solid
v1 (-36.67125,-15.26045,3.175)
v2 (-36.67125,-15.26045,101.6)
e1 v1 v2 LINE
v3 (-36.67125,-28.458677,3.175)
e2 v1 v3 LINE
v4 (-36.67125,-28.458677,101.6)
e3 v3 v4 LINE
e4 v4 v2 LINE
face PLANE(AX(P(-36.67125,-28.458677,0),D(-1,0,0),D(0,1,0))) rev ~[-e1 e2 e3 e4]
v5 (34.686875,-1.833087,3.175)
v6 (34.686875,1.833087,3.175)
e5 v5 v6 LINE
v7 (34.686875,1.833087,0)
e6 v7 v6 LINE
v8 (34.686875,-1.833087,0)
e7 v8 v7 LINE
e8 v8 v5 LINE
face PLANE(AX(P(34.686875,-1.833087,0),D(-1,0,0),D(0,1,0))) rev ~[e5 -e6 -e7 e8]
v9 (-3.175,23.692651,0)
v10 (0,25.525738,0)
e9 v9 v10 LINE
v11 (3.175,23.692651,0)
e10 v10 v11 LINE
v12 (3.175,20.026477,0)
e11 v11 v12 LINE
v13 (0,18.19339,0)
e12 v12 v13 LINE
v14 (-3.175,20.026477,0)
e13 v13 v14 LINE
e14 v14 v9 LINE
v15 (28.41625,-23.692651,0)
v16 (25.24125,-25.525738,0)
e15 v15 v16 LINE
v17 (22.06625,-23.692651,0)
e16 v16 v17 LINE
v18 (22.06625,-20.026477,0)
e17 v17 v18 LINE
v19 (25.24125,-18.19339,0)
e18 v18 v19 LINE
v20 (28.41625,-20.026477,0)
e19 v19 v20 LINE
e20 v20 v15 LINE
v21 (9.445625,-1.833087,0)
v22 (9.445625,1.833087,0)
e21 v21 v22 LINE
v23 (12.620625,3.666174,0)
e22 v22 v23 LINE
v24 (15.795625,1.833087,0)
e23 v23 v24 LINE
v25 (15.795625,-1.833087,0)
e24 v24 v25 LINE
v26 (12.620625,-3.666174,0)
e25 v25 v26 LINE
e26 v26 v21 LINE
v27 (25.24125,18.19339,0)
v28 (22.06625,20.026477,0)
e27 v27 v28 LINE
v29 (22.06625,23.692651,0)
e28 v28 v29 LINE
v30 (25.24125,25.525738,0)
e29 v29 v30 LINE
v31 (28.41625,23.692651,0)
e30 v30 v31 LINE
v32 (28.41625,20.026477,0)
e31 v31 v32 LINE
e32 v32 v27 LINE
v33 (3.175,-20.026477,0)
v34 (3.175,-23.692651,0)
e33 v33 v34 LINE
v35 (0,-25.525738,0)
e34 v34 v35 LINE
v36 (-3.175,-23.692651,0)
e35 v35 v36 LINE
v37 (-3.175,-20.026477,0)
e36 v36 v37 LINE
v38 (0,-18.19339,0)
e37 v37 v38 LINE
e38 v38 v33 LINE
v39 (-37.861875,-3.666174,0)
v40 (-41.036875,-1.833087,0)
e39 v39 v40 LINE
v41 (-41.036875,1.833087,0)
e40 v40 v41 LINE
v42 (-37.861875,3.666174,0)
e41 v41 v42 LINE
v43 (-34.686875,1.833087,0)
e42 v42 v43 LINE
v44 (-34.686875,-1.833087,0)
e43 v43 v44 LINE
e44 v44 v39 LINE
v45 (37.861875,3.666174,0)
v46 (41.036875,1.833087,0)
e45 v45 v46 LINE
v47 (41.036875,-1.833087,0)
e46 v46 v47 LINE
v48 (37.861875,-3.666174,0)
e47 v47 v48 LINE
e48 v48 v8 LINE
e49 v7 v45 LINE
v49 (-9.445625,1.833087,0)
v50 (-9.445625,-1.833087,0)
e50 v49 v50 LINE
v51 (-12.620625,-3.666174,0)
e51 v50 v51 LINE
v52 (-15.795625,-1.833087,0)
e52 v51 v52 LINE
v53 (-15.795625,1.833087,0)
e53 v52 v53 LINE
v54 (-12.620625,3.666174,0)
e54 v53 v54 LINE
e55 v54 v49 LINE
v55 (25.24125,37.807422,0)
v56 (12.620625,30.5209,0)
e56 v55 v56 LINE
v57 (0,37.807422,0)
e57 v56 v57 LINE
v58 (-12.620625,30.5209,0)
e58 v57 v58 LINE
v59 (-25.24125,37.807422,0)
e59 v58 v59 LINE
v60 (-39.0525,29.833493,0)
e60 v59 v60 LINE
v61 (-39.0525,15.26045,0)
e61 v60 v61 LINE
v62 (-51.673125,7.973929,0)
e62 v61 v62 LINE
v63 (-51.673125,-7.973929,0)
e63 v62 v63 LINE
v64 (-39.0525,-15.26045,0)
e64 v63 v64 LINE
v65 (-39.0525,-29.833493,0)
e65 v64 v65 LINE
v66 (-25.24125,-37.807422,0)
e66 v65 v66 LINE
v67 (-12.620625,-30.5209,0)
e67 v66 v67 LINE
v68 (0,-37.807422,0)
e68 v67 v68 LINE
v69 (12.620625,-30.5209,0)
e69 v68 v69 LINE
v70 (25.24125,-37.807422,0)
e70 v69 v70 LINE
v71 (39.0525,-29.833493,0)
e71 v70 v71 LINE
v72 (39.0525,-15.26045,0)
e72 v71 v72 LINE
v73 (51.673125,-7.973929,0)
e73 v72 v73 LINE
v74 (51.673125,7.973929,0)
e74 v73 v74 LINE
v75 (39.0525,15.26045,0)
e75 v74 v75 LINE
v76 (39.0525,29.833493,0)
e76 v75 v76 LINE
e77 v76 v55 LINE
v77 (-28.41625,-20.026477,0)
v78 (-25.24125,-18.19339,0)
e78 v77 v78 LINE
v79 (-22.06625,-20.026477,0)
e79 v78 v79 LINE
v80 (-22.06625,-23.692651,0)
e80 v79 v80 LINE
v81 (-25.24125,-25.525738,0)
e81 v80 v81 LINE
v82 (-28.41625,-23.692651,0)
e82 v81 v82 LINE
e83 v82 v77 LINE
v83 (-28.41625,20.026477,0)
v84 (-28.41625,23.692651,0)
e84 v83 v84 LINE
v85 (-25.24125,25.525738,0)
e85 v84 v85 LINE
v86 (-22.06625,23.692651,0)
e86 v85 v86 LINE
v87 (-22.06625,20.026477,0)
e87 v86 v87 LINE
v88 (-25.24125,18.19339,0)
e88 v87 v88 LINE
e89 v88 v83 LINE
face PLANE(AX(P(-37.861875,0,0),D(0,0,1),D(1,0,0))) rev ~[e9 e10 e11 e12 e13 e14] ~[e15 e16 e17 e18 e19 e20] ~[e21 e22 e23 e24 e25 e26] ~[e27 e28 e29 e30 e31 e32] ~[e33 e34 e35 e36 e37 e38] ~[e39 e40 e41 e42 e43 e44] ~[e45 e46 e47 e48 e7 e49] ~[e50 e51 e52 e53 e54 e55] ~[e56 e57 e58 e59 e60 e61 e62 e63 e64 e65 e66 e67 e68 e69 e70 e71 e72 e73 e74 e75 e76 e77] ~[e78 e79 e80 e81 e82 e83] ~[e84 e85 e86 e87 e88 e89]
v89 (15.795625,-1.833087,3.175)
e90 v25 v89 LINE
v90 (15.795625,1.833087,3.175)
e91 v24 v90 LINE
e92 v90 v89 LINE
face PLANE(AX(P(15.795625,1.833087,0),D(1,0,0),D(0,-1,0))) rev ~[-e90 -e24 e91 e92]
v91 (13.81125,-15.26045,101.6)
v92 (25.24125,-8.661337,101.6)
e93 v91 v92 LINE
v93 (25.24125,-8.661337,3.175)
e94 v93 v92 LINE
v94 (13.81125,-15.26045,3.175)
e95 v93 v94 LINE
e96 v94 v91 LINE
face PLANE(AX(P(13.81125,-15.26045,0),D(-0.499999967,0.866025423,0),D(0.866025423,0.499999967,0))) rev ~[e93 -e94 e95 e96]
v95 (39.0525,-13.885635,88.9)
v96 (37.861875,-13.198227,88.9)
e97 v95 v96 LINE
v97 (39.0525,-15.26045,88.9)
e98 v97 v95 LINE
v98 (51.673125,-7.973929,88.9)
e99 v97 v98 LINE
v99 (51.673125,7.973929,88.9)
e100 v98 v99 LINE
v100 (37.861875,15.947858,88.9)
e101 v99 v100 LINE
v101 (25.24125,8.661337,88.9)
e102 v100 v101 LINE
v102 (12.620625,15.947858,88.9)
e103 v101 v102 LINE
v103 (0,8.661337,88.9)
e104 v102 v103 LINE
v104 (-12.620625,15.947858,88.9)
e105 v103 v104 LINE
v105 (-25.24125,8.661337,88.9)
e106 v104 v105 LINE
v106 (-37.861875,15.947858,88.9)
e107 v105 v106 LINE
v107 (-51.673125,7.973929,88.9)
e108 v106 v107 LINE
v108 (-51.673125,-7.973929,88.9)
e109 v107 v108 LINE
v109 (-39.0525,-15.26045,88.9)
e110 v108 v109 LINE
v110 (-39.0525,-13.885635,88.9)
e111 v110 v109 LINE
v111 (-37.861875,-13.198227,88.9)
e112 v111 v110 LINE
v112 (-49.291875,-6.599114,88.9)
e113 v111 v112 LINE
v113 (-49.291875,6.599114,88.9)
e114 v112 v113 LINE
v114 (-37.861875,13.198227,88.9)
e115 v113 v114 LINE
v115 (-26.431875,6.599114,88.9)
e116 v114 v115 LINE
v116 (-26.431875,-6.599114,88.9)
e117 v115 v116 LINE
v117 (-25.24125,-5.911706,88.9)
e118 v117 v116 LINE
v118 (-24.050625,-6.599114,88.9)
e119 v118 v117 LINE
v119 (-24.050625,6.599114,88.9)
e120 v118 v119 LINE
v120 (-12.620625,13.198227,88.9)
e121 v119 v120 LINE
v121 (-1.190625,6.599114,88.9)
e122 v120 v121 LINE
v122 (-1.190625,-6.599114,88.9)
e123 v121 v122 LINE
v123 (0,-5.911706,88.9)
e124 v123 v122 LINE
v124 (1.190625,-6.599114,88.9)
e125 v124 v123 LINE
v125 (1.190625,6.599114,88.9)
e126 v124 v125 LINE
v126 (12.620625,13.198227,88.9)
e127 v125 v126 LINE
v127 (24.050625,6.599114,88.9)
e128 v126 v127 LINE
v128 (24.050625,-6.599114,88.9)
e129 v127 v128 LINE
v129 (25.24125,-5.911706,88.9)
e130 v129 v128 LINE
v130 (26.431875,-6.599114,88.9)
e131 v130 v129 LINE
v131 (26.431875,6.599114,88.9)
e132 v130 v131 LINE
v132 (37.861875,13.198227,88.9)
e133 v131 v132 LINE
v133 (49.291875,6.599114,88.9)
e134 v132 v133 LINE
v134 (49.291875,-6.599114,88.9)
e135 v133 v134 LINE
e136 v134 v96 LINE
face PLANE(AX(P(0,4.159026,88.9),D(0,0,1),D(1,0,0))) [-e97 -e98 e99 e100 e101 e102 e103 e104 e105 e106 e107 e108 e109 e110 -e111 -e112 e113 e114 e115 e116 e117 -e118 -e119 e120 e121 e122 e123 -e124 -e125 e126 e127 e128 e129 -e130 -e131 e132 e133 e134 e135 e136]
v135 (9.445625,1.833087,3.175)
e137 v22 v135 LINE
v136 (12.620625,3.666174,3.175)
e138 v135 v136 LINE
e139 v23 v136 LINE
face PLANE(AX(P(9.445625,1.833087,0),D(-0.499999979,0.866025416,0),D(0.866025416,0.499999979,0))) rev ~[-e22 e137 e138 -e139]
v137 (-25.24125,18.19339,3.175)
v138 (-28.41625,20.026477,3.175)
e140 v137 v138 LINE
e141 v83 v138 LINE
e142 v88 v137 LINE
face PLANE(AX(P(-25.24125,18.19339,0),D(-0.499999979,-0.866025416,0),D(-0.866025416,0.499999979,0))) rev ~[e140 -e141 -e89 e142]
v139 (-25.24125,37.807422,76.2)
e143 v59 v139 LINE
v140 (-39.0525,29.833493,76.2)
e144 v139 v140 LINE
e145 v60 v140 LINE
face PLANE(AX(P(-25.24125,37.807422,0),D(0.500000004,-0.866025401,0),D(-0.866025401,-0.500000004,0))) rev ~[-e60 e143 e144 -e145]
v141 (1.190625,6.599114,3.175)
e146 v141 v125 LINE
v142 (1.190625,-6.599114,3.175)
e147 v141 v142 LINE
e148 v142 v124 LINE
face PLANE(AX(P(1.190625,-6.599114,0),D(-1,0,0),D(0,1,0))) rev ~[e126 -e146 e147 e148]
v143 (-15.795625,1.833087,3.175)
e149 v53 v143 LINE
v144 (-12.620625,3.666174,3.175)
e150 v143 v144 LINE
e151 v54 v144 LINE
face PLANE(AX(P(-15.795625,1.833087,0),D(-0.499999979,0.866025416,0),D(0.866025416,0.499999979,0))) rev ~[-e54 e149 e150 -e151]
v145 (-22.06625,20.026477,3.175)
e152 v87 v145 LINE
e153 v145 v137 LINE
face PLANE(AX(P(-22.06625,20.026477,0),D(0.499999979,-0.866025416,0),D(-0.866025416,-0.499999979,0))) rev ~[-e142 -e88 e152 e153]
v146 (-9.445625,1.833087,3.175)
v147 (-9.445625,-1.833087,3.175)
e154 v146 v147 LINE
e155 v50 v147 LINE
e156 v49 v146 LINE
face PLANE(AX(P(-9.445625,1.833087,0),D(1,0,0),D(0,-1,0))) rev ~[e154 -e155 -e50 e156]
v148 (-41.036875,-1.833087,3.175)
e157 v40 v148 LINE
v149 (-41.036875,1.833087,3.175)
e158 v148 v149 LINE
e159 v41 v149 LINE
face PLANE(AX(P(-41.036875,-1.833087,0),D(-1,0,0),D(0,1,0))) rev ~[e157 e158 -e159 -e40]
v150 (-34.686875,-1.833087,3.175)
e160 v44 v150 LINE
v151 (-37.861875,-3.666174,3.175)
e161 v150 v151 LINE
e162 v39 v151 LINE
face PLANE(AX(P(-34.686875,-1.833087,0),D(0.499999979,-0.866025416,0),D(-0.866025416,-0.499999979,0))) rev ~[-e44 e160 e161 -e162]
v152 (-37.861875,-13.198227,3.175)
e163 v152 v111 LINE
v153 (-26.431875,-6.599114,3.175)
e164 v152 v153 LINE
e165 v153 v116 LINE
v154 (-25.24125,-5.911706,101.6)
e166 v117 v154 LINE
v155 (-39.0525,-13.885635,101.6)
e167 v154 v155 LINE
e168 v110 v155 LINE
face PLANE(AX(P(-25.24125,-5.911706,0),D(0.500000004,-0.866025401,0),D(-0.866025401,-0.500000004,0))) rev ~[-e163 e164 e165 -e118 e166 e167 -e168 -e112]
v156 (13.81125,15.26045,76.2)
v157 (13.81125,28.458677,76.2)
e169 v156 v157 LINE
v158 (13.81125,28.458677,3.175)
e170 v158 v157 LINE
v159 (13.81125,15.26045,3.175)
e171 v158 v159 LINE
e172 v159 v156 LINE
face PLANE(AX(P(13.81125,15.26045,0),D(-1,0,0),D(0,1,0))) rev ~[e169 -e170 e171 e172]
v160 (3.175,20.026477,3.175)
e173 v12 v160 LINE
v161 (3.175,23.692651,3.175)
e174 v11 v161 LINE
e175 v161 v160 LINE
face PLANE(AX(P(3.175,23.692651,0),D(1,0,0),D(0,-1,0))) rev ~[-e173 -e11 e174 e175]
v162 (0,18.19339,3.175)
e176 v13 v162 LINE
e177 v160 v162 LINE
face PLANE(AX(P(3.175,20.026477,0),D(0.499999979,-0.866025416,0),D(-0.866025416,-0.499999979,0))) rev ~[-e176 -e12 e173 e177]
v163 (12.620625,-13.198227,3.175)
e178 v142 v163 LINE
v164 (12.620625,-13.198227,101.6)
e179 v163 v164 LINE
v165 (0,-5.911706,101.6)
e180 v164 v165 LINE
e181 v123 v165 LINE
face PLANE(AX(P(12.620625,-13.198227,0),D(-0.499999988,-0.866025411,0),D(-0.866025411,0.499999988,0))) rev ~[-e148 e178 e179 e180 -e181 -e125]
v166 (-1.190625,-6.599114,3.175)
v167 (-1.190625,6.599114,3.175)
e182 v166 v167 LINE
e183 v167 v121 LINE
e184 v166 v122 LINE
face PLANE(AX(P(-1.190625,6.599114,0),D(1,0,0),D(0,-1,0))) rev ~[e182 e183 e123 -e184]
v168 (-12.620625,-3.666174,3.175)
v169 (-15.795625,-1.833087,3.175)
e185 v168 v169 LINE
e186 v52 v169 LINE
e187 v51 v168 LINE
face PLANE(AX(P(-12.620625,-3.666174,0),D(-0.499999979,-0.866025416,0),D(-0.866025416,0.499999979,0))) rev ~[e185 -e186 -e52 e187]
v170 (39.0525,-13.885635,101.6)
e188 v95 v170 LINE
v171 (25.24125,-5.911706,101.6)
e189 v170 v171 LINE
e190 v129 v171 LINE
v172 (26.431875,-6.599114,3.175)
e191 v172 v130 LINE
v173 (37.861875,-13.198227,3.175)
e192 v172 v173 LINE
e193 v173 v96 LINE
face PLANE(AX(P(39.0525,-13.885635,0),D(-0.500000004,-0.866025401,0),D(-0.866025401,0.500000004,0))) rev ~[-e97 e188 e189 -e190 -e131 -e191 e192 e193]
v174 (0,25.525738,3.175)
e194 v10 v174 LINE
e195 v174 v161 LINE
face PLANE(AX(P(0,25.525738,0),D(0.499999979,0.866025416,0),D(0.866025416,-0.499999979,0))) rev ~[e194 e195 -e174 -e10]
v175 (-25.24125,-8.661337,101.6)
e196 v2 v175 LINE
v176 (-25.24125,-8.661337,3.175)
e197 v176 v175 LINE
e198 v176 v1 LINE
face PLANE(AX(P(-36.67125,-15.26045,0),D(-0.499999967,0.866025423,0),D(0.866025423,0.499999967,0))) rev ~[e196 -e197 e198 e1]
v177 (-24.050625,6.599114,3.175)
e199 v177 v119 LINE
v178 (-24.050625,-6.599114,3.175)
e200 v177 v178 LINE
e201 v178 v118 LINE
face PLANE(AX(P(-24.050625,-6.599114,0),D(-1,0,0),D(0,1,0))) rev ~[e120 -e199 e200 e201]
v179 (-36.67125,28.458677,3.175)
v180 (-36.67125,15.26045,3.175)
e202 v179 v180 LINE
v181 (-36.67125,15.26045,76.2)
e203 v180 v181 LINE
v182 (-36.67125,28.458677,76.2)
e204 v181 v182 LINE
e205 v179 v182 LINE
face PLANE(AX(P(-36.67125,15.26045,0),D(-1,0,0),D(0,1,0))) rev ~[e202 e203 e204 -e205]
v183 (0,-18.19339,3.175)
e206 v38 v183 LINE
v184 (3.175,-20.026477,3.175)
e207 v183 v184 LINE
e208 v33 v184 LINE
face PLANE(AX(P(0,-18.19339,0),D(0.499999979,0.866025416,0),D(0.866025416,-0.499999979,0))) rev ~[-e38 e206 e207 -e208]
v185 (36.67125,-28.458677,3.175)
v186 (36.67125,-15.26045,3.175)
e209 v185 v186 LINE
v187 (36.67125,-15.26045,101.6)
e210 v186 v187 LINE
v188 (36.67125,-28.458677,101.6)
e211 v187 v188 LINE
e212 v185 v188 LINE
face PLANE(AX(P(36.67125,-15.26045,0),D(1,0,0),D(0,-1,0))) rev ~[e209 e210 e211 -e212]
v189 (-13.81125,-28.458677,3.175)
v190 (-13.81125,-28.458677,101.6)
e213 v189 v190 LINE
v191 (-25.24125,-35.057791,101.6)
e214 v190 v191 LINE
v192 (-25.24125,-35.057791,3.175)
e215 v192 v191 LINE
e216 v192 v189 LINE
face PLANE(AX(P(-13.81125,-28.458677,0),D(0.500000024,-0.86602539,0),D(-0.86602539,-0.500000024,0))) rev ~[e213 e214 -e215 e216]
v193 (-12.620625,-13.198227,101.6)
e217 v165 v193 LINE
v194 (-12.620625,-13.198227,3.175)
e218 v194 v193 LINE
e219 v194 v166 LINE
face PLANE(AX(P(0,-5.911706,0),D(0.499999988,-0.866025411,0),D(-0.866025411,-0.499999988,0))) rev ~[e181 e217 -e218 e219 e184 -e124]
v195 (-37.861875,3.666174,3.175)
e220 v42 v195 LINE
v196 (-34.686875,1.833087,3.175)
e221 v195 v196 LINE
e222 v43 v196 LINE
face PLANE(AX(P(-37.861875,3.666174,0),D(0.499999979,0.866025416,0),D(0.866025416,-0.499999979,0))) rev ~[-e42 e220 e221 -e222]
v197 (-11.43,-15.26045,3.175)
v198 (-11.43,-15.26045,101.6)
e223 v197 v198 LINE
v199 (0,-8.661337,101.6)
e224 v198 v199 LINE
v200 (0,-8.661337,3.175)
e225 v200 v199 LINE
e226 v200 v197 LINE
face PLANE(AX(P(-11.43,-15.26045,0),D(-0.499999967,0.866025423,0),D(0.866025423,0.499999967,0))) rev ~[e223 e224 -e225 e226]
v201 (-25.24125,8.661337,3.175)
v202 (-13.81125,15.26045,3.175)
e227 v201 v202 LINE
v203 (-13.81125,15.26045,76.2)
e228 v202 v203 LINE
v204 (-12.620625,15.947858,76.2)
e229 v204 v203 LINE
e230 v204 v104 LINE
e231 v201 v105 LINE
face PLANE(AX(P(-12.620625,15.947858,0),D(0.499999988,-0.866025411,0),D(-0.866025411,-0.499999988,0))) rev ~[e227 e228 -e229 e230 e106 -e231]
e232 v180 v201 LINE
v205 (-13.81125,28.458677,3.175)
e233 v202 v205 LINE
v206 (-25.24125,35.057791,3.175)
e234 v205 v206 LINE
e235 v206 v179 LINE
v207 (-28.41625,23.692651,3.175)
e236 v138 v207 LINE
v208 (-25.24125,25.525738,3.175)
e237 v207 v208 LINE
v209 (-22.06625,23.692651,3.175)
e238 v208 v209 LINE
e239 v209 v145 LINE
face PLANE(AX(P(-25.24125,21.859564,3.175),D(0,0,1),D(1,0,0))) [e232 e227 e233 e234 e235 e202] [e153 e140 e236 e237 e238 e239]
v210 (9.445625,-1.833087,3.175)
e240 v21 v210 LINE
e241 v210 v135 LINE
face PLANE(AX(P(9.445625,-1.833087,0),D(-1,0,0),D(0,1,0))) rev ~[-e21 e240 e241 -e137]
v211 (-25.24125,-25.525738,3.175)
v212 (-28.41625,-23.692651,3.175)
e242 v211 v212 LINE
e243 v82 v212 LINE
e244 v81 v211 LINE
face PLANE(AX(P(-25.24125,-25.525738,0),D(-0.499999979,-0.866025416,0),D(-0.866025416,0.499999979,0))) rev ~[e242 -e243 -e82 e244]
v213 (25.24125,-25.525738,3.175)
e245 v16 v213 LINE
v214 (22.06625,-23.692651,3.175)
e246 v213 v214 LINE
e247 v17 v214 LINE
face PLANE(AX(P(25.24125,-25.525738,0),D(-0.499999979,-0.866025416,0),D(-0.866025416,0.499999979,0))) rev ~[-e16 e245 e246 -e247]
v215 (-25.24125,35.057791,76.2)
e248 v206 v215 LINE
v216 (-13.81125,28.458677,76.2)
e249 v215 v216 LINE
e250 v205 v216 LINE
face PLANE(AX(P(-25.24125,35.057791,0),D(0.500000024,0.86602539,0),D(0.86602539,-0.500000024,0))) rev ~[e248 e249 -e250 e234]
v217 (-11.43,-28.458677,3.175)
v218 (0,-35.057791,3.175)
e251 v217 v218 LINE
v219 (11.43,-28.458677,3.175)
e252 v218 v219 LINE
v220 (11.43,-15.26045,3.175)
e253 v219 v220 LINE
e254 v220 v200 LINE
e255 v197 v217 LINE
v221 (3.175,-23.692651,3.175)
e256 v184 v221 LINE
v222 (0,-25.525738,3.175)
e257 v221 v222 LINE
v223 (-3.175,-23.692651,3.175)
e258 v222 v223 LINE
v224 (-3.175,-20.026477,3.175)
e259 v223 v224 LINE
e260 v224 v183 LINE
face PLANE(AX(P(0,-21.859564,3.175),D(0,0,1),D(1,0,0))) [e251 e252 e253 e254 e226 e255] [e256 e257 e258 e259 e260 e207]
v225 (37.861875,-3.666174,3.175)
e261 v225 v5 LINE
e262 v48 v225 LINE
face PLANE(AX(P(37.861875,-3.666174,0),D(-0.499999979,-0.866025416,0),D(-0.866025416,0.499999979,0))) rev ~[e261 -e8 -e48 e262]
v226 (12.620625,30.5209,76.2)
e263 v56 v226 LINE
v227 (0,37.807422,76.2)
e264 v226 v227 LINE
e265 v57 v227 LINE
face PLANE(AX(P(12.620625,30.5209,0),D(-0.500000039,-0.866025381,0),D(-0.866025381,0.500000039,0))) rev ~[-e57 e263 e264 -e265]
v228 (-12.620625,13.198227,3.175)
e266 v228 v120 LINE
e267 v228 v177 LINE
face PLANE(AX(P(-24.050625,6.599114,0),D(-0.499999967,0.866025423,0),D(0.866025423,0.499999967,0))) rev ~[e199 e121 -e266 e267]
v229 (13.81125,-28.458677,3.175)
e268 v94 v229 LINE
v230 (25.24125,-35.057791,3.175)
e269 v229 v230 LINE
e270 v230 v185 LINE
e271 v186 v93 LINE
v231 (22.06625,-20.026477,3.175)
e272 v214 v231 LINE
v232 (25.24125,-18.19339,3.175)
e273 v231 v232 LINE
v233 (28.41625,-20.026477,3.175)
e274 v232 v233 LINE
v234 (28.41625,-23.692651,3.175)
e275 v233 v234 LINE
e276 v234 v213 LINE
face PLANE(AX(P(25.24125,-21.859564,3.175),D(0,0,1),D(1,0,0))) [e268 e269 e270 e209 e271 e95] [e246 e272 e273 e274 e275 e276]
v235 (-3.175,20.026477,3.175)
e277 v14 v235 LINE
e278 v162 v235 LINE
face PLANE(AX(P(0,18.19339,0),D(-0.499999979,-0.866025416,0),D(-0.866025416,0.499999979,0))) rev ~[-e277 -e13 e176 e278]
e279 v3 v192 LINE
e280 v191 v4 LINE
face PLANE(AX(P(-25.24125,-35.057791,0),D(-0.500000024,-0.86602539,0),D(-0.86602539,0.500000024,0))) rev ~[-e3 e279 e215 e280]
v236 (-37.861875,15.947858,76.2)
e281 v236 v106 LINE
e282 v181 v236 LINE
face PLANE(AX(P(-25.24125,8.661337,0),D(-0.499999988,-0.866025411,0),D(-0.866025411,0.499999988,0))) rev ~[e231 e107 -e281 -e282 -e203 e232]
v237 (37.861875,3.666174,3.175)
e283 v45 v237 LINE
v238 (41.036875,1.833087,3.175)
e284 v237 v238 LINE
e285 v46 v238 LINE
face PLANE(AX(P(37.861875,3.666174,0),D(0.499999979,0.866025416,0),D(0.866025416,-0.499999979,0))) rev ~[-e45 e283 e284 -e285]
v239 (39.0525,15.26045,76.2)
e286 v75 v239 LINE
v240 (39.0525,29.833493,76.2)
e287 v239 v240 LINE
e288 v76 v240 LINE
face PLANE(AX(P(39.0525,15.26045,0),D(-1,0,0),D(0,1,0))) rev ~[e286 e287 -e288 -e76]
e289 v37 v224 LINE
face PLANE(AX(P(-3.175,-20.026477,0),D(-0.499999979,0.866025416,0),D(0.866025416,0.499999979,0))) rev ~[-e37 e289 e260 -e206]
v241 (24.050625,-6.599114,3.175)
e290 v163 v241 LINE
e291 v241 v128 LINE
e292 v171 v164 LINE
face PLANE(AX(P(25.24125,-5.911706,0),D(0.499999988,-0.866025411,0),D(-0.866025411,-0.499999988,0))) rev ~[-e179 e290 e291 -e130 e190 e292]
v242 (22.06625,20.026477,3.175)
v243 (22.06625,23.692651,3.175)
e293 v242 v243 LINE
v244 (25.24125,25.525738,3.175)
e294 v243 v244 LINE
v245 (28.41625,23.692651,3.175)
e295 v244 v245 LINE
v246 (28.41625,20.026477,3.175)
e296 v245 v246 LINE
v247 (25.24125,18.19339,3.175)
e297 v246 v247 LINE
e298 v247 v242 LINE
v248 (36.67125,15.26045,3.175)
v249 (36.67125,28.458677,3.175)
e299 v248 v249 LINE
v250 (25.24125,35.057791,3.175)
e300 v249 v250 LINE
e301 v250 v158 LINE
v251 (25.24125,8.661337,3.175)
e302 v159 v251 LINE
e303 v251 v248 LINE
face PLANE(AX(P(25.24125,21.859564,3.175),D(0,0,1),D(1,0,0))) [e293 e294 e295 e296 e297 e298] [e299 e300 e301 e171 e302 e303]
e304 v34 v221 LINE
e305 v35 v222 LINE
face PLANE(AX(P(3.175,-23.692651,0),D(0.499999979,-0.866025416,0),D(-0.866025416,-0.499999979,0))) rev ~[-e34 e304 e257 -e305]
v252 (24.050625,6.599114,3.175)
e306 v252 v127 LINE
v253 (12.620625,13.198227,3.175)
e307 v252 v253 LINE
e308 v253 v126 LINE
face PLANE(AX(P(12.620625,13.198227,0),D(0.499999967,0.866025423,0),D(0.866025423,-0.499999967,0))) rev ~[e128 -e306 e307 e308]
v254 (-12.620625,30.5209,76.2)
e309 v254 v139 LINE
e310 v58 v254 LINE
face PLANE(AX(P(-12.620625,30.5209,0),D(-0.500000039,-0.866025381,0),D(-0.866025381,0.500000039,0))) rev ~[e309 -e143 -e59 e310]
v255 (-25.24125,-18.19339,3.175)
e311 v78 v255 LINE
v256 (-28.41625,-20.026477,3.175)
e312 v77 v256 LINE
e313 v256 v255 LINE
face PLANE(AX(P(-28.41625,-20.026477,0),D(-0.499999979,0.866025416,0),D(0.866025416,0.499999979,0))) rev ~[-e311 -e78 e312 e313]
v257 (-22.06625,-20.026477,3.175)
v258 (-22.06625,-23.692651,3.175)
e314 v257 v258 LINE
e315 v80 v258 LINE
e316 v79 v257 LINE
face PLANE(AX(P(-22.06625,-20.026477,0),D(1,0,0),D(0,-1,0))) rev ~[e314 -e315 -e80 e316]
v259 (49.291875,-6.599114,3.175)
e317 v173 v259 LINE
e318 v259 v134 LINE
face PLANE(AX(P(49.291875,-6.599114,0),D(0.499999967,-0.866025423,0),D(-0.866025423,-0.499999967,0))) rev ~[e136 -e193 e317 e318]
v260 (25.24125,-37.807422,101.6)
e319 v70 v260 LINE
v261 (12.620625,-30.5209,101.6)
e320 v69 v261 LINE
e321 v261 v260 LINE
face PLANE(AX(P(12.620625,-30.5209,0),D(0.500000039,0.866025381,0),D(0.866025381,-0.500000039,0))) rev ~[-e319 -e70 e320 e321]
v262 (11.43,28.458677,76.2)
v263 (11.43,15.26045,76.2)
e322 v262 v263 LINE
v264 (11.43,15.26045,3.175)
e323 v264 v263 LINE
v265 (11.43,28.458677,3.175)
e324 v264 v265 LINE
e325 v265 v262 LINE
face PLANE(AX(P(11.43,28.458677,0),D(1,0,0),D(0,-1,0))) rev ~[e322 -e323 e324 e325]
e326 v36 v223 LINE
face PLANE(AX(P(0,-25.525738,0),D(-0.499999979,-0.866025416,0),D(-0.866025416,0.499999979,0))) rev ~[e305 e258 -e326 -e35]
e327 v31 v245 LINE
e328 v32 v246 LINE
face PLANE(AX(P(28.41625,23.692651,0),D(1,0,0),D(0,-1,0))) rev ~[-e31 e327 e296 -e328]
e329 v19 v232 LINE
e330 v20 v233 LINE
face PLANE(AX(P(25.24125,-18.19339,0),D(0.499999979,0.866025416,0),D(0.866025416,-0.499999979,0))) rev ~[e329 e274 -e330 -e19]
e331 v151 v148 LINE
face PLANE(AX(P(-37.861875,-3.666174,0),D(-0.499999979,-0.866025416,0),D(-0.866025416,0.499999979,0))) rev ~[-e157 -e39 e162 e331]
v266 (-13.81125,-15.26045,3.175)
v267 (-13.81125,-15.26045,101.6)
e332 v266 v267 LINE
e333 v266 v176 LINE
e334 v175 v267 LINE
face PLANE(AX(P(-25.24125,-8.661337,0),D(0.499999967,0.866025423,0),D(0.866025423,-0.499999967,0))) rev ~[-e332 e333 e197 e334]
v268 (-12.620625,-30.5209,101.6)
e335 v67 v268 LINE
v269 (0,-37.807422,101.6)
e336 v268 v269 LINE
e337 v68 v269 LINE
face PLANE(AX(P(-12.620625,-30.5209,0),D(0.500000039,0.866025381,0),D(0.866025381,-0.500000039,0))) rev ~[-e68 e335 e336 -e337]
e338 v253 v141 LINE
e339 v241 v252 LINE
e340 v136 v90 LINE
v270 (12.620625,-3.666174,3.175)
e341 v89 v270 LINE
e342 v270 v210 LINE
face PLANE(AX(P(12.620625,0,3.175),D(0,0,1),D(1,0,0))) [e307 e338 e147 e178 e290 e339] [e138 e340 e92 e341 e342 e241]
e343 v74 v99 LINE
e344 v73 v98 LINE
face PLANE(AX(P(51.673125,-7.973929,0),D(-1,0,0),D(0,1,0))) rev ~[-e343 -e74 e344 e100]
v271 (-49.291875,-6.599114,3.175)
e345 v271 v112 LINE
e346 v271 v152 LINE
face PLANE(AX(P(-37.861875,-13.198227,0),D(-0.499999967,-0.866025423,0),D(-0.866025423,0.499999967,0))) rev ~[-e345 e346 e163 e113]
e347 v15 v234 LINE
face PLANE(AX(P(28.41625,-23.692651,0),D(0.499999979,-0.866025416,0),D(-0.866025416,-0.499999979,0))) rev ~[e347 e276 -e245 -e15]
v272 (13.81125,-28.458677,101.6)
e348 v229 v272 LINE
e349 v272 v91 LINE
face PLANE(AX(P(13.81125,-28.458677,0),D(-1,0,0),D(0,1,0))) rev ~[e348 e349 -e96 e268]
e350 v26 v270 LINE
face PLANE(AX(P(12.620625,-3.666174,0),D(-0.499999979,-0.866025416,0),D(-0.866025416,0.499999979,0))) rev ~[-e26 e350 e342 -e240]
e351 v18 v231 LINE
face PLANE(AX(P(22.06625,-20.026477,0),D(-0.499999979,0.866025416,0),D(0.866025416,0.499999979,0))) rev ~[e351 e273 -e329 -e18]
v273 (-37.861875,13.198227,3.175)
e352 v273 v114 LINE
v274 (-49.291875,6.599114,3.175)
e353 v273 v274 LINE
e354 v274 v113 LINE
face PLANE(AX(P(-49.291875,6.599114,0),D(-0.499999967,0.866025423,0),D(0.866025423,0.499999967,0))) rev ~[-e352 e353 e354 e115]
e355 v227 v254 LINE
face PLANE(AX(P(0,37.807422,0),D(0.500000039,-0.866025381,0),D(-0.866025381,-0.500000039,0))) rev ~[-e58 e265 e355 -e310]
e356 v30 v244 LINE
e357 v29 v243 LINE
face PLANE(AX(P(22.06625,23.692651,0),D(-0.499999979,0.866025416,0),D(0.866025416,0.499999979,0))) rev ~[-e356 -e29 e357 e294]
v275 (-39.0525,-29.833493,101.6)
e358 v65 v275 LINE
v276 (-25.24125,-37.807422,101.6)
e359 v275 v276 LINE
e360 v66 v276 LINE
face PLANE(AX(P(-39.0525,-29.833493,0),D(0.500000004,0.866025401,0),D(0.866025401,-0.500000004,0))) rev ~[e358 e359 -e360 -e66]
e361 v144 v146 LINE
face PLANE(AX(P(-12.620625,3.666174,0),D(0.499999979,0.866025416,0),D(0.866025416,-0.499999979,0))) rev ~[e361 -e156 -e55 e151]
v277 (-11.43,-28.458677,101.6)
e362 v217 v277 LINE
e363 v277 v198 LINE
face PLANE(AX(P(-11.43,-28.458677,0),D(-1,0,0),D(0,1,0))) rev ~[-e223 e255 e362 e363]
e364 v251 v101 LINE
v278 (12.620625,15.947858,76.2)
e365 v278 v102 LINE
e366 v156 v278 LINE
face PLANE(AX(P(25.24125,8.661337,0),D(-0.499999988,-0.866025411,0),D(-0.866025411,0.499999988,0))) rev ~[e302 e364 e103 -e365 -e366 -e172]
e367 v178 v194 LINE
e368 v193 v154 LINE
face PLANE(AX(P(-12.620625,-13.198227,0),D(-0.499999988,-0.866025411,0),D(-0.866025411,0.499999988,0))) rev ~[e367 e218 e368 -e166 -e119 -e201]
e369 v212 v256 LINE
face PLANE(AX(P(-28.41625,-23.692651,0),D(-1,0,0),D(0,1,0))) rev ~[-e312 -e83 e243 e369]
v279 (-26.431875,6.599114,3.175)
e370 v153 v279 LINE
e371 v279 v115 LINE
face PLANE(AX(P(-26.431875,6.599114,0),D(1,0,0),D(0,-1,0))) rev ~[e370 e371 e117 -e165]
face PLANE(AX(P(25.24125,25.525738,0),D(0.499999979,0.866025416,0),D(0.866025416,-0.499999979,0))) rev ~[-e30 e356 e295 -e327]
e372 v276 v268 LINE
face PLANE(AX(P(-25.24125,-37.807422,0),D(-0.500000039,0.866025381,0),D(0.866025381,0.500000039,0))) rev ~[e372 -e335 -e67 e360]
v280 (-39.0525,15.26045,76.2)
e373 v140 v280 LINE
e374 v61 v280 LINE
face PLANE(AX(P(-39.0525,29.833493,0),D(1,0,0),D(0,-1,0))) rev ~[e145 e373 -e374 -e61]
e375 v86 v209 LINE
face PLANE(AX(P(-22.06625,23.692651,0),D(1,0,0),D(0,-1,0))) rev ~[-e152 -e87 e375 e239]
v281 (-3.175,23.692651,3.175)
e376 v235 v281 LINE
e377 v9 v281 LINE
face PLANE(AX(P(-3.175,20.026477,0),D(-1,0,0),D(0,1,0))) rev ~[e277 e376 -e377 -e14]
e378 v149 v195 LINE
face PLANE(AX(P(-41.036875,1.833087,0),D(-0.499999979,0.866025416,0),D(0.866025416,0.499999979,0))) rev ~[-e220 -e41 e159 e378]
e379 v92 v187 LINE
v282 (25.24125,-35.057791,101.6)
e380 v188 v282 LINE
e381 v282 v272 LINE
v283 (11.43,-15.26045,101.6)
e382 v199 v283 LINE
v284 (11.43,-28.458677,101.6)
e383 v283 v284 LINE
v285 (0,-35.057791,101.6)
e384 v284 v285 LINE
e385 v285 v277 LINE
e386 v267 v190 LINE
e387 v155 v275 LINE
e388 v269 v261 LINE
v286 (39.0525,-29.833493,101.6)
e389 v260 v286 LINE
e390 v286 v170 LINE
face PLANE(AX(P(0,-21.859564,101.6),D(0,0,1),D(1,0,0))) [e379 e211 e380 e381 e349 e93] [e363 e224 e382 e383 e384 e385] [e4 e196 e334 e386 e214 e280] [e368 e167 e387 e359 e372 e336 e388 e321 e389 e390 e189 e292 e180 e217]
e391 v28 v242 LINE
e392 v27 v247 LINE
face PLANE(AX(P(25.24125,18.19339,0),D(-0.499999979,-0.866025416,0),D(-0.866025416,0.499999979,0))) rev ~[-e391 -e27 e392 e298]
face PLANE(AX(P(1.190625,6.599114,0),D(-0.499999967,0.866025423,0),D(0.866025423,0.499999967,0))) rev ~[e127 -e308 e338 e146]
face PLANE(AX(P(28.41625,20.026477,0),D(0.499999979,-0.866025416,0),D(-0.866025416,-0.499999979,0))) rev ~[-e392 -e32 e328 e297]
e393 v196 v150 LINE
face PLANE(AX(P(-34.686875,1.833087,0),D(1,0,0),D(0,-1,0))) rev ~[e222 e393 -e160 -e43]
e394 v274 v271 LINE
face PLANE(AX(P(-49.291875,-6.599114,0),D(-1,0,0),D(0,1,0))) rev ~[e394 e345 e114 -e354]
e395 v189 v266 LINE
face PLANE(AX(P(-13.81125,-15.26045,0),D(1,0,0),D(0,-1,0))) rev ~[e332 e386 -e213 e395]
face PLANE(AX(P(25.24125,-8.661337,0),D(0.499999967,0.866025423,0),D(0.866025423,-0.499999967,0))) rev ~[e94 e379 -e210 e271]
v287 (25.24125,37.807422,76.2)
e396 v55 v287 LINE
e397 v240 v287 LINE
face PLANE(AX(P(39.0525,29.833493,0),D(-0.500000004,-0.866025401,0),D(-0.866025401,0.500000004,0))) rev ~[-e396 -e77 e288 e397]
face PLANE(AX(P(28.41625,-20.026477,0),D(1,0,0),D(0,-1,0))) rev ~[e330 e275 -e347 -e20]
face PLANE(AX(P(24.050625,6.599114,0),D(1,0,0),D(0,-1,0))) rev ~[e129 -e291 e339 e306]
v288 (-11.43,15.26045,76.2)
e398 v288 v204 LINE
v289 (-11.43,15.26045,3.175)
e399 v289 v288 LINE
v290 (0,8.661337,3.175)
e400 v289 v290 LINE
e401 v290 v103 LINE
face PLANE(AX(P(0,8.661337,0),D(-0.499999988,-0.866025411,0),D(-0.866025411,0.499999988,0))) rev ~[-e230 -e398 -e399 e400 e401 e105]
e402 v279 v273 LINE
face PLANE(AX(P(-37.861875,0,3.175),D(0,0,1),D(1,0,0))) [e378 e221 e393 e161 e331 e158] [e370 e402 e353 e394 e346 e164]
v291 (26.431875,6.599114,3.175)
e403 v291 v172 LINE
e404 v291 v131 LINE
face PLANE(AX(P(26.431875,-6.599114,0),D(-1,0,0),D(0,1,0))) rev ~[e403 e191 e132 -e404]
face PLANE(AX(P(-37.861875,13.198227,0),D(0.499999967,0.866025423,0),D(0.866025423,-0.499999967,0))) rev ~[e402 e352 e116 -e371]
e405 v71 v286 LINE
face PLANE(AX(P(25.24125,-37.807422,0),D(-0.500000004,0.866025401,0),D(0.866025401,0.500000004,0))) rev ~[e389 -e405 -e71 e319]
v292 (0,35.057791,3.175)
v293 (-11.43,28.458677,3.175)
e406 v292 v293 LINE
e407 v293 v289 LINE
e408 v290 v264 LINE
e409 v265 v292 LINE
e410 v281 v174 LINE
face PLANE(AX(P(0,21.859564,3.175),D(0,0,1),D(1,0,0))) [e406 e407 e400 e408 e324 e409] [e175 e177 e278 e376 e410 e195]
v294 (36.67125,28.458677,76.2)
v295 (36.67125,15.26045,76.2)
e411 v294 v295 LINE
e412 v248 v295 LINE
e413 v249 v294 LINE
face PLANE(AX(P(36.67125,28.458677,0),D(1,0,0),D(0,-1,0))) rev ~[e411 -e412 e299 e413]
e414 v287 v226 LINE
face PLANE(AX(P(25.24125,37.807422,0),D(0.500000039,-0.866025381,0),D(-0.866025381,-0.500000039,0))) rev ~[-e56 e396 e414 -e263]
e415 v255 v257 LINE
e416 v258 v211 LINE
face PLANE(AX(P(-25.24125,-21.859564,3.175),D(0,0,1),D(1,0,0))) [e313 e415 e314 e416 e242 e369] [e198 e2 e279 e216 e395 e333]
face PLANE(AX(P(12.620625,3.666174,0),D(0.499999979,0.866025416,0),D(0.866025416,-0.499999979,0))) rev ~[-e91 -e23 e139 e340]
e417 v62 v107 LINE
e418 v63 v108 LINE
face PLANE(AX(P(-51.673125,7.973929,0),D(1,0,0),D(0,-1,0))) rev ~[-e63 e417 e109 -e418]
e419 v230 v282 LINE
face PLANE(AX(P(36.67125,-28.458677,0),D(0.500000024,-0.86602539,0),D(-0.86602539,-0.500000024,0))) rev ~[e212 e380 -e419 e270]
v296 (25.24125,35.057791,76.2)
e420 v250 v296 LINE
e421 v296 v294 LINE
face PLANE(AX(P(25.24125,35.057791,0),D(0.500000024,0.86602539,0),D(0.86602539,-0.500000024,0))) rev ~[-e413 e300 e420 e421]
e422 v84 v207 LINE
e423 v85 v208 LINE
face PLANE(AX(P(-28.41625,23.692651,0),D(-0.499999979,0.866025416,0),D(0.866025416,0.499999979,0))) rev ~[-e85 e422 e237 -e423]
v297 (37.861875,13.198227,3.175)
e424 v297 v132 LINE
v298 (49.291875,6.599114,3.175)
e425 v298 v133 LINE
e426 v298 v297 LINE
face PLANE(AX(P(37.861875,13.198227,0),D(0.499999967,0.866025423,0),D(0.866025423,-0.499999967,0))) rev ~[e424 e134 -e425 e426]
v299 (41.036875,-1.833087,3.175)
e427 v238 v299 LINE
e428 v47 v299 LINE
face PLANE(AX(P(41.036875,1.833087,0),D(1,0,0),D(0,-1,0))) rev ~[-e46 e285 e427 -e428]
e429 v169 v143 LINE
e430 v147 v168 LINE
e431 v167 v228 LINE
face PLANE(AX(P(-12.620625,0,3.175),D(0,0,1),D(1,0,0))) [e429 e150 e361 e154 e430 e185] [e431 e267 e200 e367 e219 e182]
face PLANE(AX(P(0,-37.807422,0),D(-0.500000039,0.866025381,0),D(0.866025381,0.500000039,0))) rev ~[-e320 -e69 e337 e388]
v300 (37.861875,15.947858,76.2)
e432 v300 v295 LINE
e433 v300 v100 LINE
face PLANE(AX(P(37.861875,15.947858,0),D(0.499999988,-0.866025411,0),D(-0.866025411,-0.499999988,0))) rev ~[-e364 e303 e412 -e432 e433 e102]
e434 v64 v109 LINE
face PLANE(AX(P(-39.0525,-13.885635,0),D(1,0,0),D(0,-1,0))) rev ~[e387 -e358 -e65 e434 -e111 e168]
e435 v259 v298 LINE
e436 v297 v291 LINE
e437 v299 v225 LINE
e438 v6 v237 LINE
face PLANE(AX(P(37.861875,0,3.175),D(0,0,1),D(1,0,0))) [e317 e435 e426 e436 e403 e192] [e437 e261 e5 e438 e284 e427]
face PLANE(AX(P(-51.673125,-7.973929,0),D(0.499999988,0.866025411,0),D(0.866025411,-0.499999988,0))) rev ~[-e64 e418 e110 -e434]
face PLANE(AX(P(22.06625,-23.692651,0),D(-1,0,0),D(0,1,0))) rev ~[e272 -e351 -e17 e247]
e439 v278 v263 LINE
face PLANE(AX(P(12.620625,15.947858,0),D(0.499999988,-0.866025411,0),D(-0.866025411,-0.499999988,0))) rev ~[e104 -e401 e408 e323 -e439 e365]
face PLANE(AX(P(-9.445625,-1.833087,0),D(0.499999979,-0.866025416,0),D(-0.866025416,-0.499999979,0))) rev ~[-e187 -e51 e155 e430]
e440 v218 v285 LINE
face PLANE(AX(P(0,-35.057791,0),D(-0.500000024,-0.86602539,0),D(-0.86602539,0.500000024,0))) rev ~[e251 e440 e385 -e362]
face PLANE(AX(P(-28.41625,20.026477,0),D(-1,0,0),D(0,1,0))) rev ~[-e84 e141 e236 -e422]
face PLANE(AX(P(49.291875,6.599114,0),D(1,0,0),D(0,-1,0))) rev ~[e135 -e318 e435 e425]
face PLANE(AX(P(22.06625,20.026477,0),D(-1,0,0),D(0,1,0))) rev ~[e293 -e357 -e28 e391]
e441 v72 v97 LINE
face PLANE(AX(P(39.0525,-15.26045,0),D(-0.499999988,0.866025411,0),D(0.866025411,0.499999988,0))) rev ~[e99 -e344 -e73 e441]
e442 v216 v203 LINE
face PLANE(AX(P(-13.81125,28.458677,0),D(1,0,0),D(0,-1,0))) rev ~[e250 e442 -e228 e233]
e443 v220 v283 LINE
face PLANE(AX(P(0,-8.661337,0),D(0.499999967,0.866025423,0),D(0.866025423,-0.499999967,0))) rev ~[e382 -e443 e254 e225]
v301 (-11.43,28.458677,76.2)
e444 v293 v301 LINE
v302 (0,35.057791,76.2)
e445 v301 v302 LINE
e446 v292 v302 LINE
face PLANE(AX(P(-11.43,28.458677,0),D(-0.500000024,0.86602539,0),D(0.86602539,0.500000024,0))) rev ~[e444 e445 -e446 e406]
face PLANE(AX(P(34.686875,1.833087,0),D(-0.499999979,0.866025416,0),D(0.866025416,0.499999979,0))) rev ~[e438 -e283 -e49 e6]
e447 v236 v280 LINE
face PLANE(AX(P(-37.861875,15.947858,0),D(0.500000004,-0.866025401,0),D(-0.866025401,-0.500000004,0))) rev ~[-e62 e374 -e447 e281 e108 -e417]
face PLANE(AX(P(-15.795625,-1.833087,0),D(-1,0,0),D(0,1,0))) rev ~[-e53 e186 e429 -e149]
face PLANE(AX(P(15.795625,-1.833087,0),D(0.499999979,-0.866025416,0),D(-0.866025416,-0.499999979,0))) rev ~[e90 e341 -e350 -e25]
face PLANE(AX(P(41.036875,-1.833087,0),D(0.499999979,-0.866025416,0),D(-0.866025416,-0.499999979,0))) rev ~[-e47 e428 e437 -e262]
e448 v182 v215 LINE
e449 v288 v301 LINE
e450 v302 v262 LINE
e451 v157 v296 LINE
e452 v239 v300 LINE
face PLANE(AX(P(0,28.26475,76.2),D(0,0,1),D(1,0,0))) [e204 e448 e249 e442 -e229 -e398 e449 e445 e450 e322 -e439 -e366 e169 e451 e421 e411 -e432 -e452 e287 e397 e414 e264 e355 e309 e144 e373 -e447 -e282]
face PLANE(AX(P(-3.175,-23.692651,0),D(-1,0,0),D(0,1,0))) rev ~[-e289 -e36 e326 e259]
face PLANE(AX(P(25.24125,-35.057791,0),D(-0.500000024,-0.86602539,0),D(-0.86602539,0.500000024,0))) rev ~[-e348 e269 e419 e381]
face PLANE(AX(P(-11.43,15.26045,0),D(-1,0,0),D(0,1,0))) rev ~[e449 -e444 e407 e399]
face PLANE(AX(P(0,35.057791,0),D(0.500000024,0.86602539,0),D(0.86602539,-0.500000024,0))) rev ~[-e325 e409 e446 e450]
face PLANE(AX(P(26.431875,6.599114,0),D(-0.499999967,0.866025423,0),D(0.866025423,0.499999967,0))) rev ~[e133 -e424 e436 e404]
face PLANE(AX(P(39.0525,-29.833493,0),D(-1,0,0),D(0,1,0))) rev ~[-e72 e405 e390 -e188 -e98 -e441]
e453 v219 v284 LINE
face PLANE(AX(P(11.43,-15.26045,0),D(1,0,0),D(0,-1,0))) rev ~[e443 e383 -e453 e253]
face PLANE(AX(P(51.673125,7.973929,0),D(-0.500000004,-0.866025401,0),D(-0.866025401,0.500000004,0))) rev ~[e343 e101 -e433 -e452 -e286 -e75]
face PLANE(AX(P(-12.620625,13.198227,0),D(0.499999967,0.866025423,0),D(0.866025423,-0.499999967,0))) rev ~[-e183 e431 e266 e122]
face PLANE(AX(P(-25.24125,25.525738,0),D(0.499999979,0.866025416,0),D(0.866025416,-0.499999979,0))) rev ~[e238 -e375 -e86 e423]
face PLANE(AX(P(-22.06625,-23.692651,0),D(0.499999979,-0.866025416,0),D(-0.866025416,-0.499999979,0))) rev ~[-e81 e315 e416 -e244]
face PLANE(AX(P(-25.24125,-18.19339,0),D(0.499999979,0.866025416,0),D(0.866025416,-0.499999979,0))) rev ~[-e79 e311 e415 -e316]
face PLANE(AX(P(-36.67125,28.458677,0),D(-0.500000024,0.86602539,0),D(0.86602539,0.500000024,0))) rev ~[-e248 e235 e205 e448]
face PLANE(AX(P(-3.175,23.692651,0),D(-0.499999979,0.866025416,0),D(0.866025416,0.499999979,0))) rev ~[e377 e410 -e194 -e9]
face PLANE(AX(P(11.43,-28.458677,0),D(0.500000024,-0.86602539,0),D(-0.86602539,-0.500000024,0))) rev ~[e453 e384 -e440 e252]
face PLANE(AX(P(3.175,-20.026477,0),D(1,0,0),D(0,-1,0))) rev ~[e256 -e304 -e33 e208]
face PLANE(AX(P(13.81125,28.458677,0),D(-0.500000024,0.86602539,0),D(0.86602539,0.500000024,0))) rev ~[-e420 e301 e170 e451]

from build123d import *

# Parameters (mm, degrees)
F3_DEPTH = 101.6
F4_DEPTH = 88.9
F5_DEPTH = 76.2
F7_DEPTH = 3.175


with BuildPart() as f3:
    # F1 (on Top) → F3 (new body)
    with BuildSketch(Plane.XY):
        Polygon((0, -5.911706), (-12.620625, -13.198227), (-25.24125, -5.911706), (-39.0525, -13.885635), (-39.0525, -29.833493), (-25.24125, -37.807422), (-12.620625, -30.5209), (0, -37.807422), (12.620625, -30.5209), (25.24125, -37.807422), (39.0525, -29.833493), (39.0525, -13.885635), (25.24125, -5.911706), (12.620625, -13.198227), align=None)
        Polygon((0, -35.057791), (-11.43, -28.458677), (-11.43, -15.26045), (0, -8.661337), (11.43, -15.26045), (11.43, -28.458677), align=None, mode=Mode.SUBTRACT)
        Polygon((-25.24125, -35.057791), (-36.67125, -28.458677), (-36.67125, -15.26045), (-25.24125, -8.661337), (-13.81125, -15.26045), (-13.81125, -28.458677), align=None, mode=Mode.SUBTRACT)
        Polygon((13.81125, -28.458677), (13.81125, -15.26045), (25.24125, -8.661337), (36.67125, -15.26045), (36.67125, -28.458677), (25.24125, -35.057791), align=None, mode=Mode.SUBTRACT)
    extrude(amount=F3_DEPTH)

    # F0 (on Top) → F4 (join)
    with BuildSketch(Plane.XY):
        Polygon((-26.431875, -6.599114), (-24.050625, -6.599114), (-24.050625, 6.599114), (-12.620625, 13.198227), (-1.190625, 6.599114), (-1.190625, -6.599114), (1.190625, -6.599114), (1.190625, 6.599114), (12.620625, 13.198227), (24.050625, 6.599114), (24.050625, -6.599114), (26.431875, -6.599114), (26.431875, 6.599114), (37.861875, 13.198227), (49.291875, 6.599114), (49.291875, -6.599114), (37.861875, -13.198227), (39.0525, -15.26045), (51.673125, -7.973929), (51.673125, 7.973929), (37.861875, 15.947858), (25.24125, 8.661337), (12.620625, 15.947858), (0, 8.661337), (-12.620625, 15.947858), (-25.24125, 8.661337), (-37.861875, 15.947858), (-51.673125, 7.973929), (-51.673125, -7.973929), (-39.0525, -15.26045), (-37.861875, -13.198227), (-49.291875, -6.599114), (-49.291875, 6.599114), (-37.861875, 13.198227), (-26.431875, 6.599114), align=None)
    extrude(amount=F4_DEPTH)

    # F2 (on Top) → F5 (join)
    with BuildSketch(Plane.XY):
        Polygon((-13.81125, 15.26045), (-11.43, 15.26045), (-11.43, 28.458677), (0, 35.057791), (11.43, 28.458677), (11.43, 15.26045), (13.81125, 15.26045), (13.81125, 28.458677), (25.24125, 35.057791), (36.67125, 28.458677), (36.67125, 15.26045), (39.0525, 15.26045), (39.0525, 29.833493), (25.24125, 37.807422), (12.620625, 30.5209), (0, 37.807422), (-12.620625, 30.5209), (-25.24125, 37.807422), (-39.0525, 29.833493), (-39.0525, 15.26045), (-36.67125, 15.26045), (-36.67125, 28.458677), (-25.24125, 35.057791), (-13.81125, 28.458677), align=None)
    extrude(amount=F5_DEPTH)

    # F6 (on Top) → F7 (join)
    with BuildSketch(Plane.XY):
        Polygon((-49.291875, 6.599114), (-49.291875, -6.599114), (-37.861875, -13.198227), (-26.431875, -6.599114), (-26.431875, 6.599114), (-37.861875, 13.198227), align=None)
        Polygon((-37.861875, -3.666174), (-41.036875, -1.833087), (-41.036875, 1.833087), (-37.861875, 3.666174), (-34.686875, 1.833087), (-34.686875, -1.833087), align=None, mode=Mode.SUBTRACT)
        Polygon((-24.050625, 6.599114), (-24.050625, -6.599114), (-12.620625, -13.198227), (-1.190625, -6.599114), (-1.190625, 6.599114), (-12.620625, 13.198227), align=None)
        Polygon((-15.795625, -1.833087), (-15.795625, 1.833087), (-12.620625, 3.666174), (-9.445625, 1.833087), (-9.445625, -1.833087), (-12.620625, -3.666174), align=None, mode=Mode.SUBTRACT)
        Polygon((-13.81125, -28.458677), (-13.81125, -15.26045), (-25.24125, -8.661337), (-36.67125, -15.26045), (-36.67125, -28.458677), (-25.24125, -35.057791), align=None)
        Polygon((-28.41625, -23.692651), (-28.41625, -20.026477), (-25.24125, -18.19339), (-22.06625, -20.026477), (-22.06625, -23.692651), (-25.24125, -25.525738), align=None, mode=Mode.SUBTRACT)
        Polygon((-36.67125, 28.458677), (-36.67125, 15.26045), (-25.24125, 8.661337), (-13.81125, 15.26045), (-13.81125, 28.458677), (-25.24125, 35.057791), align=None)
        Polygon((-25.24125, 18.19339), (-28.41625, 20.026477), (-28.41625, 23.692651), (-25.24125, 25.525738), (-22.06625, 23.692651), (-22.06625, 20.026477), align=None, mode=Mode.SUBTRACT)
        Polygon((-11.43, 28.458677), (-11.43, 15.26045), (0, 8.661337), (11.43, 15.26045), (11.43, 28.458677), (0, 35.057791), align=None)
        Polygon((-3.175, 20.026477), (-3.175, 23.692651), (0, 25.525738), (3.175, 23.692651), (3.175, 20.026477), (0, 18.19339), align=None, mode=Mode.SUBTRACT)
        Polygon((13.81125, 28.458677), (13.81125, 15.26045), (25.24125, 8.661337), (36.67125, 15.26045), (36.67125, 28.458677), (25.24125, 35.057791), align=None)
        Polygon((25.24125, 25.525738), (28.41625, 23.692651), (28.41625, 20.026477), (25.24125, 18.19339), (22.06625, 20.026477), (22.06625, 23.692651), align=None, mode=Mode.SUBTRACT)
        Polygon((24.050625, -6.599114), (24.050625, 6.599114), (12.620625, 13.198227), (1.190625, 6.599114), (1.190625, -6.599114), (12.620625, -13.198227), align=None)
        Polygon((12.620625, -3.666174), (9.445625, -1.833087), (9.445625, 1.833087), (12.620625, 3.666174), (15.795625, 1.833087), (15.795625, -1.833087), align=None, mode=Mode.SUBTRACT)
        Polygon((26.431875, 6.599114), (26.431875, -6.599114), (37.861875, -13.198227), (49.291875, -6.599114), (49.291875, 6.599114), (37.861875, 13.198227), align=None)
        Polygon((34.686875, 1.833087), (37.861875, 3.666174), (41.036875, 1.833087), (41.036875, -1.833087), (37.861875, -3.666174), (34.686875, -1.833087), align=None, mode=Mode.SUBTRACT)
        Polygon((36.67125, -28.458677), (36.67125, -15.26045), (25.24125, -8.661337), (13.81125, -15.26045), (13.81125, -28.458677), (25.24125, -35.057791), align=None)
        Polygon((22.06625, -20.026477), (25.24125, -18.19339), (28.41625, -20.026477), (28.41625, -23.692651), (25.24125, -25.525738), (22.06625, -23.692651), align=None, mode=Mode.SUBTRACT)
        Polygon((-11.43, -15.26045), (-11.43, -28.458677), (0, -35.057791), (11.43, -28.458677), (11.43, -15.26045), (0, -8.661337), align=None)
        Polygon((-3.175, -23.692651), (-3.175, -20.026477), (0, -18.19339), (3.175, -20.026477), (3.175, -23.692651), (0, -25.525738), align=None, mode=Mode.SUBTRACT)
    extrude(amount=F7_DEPTH)


solid = f3.part
